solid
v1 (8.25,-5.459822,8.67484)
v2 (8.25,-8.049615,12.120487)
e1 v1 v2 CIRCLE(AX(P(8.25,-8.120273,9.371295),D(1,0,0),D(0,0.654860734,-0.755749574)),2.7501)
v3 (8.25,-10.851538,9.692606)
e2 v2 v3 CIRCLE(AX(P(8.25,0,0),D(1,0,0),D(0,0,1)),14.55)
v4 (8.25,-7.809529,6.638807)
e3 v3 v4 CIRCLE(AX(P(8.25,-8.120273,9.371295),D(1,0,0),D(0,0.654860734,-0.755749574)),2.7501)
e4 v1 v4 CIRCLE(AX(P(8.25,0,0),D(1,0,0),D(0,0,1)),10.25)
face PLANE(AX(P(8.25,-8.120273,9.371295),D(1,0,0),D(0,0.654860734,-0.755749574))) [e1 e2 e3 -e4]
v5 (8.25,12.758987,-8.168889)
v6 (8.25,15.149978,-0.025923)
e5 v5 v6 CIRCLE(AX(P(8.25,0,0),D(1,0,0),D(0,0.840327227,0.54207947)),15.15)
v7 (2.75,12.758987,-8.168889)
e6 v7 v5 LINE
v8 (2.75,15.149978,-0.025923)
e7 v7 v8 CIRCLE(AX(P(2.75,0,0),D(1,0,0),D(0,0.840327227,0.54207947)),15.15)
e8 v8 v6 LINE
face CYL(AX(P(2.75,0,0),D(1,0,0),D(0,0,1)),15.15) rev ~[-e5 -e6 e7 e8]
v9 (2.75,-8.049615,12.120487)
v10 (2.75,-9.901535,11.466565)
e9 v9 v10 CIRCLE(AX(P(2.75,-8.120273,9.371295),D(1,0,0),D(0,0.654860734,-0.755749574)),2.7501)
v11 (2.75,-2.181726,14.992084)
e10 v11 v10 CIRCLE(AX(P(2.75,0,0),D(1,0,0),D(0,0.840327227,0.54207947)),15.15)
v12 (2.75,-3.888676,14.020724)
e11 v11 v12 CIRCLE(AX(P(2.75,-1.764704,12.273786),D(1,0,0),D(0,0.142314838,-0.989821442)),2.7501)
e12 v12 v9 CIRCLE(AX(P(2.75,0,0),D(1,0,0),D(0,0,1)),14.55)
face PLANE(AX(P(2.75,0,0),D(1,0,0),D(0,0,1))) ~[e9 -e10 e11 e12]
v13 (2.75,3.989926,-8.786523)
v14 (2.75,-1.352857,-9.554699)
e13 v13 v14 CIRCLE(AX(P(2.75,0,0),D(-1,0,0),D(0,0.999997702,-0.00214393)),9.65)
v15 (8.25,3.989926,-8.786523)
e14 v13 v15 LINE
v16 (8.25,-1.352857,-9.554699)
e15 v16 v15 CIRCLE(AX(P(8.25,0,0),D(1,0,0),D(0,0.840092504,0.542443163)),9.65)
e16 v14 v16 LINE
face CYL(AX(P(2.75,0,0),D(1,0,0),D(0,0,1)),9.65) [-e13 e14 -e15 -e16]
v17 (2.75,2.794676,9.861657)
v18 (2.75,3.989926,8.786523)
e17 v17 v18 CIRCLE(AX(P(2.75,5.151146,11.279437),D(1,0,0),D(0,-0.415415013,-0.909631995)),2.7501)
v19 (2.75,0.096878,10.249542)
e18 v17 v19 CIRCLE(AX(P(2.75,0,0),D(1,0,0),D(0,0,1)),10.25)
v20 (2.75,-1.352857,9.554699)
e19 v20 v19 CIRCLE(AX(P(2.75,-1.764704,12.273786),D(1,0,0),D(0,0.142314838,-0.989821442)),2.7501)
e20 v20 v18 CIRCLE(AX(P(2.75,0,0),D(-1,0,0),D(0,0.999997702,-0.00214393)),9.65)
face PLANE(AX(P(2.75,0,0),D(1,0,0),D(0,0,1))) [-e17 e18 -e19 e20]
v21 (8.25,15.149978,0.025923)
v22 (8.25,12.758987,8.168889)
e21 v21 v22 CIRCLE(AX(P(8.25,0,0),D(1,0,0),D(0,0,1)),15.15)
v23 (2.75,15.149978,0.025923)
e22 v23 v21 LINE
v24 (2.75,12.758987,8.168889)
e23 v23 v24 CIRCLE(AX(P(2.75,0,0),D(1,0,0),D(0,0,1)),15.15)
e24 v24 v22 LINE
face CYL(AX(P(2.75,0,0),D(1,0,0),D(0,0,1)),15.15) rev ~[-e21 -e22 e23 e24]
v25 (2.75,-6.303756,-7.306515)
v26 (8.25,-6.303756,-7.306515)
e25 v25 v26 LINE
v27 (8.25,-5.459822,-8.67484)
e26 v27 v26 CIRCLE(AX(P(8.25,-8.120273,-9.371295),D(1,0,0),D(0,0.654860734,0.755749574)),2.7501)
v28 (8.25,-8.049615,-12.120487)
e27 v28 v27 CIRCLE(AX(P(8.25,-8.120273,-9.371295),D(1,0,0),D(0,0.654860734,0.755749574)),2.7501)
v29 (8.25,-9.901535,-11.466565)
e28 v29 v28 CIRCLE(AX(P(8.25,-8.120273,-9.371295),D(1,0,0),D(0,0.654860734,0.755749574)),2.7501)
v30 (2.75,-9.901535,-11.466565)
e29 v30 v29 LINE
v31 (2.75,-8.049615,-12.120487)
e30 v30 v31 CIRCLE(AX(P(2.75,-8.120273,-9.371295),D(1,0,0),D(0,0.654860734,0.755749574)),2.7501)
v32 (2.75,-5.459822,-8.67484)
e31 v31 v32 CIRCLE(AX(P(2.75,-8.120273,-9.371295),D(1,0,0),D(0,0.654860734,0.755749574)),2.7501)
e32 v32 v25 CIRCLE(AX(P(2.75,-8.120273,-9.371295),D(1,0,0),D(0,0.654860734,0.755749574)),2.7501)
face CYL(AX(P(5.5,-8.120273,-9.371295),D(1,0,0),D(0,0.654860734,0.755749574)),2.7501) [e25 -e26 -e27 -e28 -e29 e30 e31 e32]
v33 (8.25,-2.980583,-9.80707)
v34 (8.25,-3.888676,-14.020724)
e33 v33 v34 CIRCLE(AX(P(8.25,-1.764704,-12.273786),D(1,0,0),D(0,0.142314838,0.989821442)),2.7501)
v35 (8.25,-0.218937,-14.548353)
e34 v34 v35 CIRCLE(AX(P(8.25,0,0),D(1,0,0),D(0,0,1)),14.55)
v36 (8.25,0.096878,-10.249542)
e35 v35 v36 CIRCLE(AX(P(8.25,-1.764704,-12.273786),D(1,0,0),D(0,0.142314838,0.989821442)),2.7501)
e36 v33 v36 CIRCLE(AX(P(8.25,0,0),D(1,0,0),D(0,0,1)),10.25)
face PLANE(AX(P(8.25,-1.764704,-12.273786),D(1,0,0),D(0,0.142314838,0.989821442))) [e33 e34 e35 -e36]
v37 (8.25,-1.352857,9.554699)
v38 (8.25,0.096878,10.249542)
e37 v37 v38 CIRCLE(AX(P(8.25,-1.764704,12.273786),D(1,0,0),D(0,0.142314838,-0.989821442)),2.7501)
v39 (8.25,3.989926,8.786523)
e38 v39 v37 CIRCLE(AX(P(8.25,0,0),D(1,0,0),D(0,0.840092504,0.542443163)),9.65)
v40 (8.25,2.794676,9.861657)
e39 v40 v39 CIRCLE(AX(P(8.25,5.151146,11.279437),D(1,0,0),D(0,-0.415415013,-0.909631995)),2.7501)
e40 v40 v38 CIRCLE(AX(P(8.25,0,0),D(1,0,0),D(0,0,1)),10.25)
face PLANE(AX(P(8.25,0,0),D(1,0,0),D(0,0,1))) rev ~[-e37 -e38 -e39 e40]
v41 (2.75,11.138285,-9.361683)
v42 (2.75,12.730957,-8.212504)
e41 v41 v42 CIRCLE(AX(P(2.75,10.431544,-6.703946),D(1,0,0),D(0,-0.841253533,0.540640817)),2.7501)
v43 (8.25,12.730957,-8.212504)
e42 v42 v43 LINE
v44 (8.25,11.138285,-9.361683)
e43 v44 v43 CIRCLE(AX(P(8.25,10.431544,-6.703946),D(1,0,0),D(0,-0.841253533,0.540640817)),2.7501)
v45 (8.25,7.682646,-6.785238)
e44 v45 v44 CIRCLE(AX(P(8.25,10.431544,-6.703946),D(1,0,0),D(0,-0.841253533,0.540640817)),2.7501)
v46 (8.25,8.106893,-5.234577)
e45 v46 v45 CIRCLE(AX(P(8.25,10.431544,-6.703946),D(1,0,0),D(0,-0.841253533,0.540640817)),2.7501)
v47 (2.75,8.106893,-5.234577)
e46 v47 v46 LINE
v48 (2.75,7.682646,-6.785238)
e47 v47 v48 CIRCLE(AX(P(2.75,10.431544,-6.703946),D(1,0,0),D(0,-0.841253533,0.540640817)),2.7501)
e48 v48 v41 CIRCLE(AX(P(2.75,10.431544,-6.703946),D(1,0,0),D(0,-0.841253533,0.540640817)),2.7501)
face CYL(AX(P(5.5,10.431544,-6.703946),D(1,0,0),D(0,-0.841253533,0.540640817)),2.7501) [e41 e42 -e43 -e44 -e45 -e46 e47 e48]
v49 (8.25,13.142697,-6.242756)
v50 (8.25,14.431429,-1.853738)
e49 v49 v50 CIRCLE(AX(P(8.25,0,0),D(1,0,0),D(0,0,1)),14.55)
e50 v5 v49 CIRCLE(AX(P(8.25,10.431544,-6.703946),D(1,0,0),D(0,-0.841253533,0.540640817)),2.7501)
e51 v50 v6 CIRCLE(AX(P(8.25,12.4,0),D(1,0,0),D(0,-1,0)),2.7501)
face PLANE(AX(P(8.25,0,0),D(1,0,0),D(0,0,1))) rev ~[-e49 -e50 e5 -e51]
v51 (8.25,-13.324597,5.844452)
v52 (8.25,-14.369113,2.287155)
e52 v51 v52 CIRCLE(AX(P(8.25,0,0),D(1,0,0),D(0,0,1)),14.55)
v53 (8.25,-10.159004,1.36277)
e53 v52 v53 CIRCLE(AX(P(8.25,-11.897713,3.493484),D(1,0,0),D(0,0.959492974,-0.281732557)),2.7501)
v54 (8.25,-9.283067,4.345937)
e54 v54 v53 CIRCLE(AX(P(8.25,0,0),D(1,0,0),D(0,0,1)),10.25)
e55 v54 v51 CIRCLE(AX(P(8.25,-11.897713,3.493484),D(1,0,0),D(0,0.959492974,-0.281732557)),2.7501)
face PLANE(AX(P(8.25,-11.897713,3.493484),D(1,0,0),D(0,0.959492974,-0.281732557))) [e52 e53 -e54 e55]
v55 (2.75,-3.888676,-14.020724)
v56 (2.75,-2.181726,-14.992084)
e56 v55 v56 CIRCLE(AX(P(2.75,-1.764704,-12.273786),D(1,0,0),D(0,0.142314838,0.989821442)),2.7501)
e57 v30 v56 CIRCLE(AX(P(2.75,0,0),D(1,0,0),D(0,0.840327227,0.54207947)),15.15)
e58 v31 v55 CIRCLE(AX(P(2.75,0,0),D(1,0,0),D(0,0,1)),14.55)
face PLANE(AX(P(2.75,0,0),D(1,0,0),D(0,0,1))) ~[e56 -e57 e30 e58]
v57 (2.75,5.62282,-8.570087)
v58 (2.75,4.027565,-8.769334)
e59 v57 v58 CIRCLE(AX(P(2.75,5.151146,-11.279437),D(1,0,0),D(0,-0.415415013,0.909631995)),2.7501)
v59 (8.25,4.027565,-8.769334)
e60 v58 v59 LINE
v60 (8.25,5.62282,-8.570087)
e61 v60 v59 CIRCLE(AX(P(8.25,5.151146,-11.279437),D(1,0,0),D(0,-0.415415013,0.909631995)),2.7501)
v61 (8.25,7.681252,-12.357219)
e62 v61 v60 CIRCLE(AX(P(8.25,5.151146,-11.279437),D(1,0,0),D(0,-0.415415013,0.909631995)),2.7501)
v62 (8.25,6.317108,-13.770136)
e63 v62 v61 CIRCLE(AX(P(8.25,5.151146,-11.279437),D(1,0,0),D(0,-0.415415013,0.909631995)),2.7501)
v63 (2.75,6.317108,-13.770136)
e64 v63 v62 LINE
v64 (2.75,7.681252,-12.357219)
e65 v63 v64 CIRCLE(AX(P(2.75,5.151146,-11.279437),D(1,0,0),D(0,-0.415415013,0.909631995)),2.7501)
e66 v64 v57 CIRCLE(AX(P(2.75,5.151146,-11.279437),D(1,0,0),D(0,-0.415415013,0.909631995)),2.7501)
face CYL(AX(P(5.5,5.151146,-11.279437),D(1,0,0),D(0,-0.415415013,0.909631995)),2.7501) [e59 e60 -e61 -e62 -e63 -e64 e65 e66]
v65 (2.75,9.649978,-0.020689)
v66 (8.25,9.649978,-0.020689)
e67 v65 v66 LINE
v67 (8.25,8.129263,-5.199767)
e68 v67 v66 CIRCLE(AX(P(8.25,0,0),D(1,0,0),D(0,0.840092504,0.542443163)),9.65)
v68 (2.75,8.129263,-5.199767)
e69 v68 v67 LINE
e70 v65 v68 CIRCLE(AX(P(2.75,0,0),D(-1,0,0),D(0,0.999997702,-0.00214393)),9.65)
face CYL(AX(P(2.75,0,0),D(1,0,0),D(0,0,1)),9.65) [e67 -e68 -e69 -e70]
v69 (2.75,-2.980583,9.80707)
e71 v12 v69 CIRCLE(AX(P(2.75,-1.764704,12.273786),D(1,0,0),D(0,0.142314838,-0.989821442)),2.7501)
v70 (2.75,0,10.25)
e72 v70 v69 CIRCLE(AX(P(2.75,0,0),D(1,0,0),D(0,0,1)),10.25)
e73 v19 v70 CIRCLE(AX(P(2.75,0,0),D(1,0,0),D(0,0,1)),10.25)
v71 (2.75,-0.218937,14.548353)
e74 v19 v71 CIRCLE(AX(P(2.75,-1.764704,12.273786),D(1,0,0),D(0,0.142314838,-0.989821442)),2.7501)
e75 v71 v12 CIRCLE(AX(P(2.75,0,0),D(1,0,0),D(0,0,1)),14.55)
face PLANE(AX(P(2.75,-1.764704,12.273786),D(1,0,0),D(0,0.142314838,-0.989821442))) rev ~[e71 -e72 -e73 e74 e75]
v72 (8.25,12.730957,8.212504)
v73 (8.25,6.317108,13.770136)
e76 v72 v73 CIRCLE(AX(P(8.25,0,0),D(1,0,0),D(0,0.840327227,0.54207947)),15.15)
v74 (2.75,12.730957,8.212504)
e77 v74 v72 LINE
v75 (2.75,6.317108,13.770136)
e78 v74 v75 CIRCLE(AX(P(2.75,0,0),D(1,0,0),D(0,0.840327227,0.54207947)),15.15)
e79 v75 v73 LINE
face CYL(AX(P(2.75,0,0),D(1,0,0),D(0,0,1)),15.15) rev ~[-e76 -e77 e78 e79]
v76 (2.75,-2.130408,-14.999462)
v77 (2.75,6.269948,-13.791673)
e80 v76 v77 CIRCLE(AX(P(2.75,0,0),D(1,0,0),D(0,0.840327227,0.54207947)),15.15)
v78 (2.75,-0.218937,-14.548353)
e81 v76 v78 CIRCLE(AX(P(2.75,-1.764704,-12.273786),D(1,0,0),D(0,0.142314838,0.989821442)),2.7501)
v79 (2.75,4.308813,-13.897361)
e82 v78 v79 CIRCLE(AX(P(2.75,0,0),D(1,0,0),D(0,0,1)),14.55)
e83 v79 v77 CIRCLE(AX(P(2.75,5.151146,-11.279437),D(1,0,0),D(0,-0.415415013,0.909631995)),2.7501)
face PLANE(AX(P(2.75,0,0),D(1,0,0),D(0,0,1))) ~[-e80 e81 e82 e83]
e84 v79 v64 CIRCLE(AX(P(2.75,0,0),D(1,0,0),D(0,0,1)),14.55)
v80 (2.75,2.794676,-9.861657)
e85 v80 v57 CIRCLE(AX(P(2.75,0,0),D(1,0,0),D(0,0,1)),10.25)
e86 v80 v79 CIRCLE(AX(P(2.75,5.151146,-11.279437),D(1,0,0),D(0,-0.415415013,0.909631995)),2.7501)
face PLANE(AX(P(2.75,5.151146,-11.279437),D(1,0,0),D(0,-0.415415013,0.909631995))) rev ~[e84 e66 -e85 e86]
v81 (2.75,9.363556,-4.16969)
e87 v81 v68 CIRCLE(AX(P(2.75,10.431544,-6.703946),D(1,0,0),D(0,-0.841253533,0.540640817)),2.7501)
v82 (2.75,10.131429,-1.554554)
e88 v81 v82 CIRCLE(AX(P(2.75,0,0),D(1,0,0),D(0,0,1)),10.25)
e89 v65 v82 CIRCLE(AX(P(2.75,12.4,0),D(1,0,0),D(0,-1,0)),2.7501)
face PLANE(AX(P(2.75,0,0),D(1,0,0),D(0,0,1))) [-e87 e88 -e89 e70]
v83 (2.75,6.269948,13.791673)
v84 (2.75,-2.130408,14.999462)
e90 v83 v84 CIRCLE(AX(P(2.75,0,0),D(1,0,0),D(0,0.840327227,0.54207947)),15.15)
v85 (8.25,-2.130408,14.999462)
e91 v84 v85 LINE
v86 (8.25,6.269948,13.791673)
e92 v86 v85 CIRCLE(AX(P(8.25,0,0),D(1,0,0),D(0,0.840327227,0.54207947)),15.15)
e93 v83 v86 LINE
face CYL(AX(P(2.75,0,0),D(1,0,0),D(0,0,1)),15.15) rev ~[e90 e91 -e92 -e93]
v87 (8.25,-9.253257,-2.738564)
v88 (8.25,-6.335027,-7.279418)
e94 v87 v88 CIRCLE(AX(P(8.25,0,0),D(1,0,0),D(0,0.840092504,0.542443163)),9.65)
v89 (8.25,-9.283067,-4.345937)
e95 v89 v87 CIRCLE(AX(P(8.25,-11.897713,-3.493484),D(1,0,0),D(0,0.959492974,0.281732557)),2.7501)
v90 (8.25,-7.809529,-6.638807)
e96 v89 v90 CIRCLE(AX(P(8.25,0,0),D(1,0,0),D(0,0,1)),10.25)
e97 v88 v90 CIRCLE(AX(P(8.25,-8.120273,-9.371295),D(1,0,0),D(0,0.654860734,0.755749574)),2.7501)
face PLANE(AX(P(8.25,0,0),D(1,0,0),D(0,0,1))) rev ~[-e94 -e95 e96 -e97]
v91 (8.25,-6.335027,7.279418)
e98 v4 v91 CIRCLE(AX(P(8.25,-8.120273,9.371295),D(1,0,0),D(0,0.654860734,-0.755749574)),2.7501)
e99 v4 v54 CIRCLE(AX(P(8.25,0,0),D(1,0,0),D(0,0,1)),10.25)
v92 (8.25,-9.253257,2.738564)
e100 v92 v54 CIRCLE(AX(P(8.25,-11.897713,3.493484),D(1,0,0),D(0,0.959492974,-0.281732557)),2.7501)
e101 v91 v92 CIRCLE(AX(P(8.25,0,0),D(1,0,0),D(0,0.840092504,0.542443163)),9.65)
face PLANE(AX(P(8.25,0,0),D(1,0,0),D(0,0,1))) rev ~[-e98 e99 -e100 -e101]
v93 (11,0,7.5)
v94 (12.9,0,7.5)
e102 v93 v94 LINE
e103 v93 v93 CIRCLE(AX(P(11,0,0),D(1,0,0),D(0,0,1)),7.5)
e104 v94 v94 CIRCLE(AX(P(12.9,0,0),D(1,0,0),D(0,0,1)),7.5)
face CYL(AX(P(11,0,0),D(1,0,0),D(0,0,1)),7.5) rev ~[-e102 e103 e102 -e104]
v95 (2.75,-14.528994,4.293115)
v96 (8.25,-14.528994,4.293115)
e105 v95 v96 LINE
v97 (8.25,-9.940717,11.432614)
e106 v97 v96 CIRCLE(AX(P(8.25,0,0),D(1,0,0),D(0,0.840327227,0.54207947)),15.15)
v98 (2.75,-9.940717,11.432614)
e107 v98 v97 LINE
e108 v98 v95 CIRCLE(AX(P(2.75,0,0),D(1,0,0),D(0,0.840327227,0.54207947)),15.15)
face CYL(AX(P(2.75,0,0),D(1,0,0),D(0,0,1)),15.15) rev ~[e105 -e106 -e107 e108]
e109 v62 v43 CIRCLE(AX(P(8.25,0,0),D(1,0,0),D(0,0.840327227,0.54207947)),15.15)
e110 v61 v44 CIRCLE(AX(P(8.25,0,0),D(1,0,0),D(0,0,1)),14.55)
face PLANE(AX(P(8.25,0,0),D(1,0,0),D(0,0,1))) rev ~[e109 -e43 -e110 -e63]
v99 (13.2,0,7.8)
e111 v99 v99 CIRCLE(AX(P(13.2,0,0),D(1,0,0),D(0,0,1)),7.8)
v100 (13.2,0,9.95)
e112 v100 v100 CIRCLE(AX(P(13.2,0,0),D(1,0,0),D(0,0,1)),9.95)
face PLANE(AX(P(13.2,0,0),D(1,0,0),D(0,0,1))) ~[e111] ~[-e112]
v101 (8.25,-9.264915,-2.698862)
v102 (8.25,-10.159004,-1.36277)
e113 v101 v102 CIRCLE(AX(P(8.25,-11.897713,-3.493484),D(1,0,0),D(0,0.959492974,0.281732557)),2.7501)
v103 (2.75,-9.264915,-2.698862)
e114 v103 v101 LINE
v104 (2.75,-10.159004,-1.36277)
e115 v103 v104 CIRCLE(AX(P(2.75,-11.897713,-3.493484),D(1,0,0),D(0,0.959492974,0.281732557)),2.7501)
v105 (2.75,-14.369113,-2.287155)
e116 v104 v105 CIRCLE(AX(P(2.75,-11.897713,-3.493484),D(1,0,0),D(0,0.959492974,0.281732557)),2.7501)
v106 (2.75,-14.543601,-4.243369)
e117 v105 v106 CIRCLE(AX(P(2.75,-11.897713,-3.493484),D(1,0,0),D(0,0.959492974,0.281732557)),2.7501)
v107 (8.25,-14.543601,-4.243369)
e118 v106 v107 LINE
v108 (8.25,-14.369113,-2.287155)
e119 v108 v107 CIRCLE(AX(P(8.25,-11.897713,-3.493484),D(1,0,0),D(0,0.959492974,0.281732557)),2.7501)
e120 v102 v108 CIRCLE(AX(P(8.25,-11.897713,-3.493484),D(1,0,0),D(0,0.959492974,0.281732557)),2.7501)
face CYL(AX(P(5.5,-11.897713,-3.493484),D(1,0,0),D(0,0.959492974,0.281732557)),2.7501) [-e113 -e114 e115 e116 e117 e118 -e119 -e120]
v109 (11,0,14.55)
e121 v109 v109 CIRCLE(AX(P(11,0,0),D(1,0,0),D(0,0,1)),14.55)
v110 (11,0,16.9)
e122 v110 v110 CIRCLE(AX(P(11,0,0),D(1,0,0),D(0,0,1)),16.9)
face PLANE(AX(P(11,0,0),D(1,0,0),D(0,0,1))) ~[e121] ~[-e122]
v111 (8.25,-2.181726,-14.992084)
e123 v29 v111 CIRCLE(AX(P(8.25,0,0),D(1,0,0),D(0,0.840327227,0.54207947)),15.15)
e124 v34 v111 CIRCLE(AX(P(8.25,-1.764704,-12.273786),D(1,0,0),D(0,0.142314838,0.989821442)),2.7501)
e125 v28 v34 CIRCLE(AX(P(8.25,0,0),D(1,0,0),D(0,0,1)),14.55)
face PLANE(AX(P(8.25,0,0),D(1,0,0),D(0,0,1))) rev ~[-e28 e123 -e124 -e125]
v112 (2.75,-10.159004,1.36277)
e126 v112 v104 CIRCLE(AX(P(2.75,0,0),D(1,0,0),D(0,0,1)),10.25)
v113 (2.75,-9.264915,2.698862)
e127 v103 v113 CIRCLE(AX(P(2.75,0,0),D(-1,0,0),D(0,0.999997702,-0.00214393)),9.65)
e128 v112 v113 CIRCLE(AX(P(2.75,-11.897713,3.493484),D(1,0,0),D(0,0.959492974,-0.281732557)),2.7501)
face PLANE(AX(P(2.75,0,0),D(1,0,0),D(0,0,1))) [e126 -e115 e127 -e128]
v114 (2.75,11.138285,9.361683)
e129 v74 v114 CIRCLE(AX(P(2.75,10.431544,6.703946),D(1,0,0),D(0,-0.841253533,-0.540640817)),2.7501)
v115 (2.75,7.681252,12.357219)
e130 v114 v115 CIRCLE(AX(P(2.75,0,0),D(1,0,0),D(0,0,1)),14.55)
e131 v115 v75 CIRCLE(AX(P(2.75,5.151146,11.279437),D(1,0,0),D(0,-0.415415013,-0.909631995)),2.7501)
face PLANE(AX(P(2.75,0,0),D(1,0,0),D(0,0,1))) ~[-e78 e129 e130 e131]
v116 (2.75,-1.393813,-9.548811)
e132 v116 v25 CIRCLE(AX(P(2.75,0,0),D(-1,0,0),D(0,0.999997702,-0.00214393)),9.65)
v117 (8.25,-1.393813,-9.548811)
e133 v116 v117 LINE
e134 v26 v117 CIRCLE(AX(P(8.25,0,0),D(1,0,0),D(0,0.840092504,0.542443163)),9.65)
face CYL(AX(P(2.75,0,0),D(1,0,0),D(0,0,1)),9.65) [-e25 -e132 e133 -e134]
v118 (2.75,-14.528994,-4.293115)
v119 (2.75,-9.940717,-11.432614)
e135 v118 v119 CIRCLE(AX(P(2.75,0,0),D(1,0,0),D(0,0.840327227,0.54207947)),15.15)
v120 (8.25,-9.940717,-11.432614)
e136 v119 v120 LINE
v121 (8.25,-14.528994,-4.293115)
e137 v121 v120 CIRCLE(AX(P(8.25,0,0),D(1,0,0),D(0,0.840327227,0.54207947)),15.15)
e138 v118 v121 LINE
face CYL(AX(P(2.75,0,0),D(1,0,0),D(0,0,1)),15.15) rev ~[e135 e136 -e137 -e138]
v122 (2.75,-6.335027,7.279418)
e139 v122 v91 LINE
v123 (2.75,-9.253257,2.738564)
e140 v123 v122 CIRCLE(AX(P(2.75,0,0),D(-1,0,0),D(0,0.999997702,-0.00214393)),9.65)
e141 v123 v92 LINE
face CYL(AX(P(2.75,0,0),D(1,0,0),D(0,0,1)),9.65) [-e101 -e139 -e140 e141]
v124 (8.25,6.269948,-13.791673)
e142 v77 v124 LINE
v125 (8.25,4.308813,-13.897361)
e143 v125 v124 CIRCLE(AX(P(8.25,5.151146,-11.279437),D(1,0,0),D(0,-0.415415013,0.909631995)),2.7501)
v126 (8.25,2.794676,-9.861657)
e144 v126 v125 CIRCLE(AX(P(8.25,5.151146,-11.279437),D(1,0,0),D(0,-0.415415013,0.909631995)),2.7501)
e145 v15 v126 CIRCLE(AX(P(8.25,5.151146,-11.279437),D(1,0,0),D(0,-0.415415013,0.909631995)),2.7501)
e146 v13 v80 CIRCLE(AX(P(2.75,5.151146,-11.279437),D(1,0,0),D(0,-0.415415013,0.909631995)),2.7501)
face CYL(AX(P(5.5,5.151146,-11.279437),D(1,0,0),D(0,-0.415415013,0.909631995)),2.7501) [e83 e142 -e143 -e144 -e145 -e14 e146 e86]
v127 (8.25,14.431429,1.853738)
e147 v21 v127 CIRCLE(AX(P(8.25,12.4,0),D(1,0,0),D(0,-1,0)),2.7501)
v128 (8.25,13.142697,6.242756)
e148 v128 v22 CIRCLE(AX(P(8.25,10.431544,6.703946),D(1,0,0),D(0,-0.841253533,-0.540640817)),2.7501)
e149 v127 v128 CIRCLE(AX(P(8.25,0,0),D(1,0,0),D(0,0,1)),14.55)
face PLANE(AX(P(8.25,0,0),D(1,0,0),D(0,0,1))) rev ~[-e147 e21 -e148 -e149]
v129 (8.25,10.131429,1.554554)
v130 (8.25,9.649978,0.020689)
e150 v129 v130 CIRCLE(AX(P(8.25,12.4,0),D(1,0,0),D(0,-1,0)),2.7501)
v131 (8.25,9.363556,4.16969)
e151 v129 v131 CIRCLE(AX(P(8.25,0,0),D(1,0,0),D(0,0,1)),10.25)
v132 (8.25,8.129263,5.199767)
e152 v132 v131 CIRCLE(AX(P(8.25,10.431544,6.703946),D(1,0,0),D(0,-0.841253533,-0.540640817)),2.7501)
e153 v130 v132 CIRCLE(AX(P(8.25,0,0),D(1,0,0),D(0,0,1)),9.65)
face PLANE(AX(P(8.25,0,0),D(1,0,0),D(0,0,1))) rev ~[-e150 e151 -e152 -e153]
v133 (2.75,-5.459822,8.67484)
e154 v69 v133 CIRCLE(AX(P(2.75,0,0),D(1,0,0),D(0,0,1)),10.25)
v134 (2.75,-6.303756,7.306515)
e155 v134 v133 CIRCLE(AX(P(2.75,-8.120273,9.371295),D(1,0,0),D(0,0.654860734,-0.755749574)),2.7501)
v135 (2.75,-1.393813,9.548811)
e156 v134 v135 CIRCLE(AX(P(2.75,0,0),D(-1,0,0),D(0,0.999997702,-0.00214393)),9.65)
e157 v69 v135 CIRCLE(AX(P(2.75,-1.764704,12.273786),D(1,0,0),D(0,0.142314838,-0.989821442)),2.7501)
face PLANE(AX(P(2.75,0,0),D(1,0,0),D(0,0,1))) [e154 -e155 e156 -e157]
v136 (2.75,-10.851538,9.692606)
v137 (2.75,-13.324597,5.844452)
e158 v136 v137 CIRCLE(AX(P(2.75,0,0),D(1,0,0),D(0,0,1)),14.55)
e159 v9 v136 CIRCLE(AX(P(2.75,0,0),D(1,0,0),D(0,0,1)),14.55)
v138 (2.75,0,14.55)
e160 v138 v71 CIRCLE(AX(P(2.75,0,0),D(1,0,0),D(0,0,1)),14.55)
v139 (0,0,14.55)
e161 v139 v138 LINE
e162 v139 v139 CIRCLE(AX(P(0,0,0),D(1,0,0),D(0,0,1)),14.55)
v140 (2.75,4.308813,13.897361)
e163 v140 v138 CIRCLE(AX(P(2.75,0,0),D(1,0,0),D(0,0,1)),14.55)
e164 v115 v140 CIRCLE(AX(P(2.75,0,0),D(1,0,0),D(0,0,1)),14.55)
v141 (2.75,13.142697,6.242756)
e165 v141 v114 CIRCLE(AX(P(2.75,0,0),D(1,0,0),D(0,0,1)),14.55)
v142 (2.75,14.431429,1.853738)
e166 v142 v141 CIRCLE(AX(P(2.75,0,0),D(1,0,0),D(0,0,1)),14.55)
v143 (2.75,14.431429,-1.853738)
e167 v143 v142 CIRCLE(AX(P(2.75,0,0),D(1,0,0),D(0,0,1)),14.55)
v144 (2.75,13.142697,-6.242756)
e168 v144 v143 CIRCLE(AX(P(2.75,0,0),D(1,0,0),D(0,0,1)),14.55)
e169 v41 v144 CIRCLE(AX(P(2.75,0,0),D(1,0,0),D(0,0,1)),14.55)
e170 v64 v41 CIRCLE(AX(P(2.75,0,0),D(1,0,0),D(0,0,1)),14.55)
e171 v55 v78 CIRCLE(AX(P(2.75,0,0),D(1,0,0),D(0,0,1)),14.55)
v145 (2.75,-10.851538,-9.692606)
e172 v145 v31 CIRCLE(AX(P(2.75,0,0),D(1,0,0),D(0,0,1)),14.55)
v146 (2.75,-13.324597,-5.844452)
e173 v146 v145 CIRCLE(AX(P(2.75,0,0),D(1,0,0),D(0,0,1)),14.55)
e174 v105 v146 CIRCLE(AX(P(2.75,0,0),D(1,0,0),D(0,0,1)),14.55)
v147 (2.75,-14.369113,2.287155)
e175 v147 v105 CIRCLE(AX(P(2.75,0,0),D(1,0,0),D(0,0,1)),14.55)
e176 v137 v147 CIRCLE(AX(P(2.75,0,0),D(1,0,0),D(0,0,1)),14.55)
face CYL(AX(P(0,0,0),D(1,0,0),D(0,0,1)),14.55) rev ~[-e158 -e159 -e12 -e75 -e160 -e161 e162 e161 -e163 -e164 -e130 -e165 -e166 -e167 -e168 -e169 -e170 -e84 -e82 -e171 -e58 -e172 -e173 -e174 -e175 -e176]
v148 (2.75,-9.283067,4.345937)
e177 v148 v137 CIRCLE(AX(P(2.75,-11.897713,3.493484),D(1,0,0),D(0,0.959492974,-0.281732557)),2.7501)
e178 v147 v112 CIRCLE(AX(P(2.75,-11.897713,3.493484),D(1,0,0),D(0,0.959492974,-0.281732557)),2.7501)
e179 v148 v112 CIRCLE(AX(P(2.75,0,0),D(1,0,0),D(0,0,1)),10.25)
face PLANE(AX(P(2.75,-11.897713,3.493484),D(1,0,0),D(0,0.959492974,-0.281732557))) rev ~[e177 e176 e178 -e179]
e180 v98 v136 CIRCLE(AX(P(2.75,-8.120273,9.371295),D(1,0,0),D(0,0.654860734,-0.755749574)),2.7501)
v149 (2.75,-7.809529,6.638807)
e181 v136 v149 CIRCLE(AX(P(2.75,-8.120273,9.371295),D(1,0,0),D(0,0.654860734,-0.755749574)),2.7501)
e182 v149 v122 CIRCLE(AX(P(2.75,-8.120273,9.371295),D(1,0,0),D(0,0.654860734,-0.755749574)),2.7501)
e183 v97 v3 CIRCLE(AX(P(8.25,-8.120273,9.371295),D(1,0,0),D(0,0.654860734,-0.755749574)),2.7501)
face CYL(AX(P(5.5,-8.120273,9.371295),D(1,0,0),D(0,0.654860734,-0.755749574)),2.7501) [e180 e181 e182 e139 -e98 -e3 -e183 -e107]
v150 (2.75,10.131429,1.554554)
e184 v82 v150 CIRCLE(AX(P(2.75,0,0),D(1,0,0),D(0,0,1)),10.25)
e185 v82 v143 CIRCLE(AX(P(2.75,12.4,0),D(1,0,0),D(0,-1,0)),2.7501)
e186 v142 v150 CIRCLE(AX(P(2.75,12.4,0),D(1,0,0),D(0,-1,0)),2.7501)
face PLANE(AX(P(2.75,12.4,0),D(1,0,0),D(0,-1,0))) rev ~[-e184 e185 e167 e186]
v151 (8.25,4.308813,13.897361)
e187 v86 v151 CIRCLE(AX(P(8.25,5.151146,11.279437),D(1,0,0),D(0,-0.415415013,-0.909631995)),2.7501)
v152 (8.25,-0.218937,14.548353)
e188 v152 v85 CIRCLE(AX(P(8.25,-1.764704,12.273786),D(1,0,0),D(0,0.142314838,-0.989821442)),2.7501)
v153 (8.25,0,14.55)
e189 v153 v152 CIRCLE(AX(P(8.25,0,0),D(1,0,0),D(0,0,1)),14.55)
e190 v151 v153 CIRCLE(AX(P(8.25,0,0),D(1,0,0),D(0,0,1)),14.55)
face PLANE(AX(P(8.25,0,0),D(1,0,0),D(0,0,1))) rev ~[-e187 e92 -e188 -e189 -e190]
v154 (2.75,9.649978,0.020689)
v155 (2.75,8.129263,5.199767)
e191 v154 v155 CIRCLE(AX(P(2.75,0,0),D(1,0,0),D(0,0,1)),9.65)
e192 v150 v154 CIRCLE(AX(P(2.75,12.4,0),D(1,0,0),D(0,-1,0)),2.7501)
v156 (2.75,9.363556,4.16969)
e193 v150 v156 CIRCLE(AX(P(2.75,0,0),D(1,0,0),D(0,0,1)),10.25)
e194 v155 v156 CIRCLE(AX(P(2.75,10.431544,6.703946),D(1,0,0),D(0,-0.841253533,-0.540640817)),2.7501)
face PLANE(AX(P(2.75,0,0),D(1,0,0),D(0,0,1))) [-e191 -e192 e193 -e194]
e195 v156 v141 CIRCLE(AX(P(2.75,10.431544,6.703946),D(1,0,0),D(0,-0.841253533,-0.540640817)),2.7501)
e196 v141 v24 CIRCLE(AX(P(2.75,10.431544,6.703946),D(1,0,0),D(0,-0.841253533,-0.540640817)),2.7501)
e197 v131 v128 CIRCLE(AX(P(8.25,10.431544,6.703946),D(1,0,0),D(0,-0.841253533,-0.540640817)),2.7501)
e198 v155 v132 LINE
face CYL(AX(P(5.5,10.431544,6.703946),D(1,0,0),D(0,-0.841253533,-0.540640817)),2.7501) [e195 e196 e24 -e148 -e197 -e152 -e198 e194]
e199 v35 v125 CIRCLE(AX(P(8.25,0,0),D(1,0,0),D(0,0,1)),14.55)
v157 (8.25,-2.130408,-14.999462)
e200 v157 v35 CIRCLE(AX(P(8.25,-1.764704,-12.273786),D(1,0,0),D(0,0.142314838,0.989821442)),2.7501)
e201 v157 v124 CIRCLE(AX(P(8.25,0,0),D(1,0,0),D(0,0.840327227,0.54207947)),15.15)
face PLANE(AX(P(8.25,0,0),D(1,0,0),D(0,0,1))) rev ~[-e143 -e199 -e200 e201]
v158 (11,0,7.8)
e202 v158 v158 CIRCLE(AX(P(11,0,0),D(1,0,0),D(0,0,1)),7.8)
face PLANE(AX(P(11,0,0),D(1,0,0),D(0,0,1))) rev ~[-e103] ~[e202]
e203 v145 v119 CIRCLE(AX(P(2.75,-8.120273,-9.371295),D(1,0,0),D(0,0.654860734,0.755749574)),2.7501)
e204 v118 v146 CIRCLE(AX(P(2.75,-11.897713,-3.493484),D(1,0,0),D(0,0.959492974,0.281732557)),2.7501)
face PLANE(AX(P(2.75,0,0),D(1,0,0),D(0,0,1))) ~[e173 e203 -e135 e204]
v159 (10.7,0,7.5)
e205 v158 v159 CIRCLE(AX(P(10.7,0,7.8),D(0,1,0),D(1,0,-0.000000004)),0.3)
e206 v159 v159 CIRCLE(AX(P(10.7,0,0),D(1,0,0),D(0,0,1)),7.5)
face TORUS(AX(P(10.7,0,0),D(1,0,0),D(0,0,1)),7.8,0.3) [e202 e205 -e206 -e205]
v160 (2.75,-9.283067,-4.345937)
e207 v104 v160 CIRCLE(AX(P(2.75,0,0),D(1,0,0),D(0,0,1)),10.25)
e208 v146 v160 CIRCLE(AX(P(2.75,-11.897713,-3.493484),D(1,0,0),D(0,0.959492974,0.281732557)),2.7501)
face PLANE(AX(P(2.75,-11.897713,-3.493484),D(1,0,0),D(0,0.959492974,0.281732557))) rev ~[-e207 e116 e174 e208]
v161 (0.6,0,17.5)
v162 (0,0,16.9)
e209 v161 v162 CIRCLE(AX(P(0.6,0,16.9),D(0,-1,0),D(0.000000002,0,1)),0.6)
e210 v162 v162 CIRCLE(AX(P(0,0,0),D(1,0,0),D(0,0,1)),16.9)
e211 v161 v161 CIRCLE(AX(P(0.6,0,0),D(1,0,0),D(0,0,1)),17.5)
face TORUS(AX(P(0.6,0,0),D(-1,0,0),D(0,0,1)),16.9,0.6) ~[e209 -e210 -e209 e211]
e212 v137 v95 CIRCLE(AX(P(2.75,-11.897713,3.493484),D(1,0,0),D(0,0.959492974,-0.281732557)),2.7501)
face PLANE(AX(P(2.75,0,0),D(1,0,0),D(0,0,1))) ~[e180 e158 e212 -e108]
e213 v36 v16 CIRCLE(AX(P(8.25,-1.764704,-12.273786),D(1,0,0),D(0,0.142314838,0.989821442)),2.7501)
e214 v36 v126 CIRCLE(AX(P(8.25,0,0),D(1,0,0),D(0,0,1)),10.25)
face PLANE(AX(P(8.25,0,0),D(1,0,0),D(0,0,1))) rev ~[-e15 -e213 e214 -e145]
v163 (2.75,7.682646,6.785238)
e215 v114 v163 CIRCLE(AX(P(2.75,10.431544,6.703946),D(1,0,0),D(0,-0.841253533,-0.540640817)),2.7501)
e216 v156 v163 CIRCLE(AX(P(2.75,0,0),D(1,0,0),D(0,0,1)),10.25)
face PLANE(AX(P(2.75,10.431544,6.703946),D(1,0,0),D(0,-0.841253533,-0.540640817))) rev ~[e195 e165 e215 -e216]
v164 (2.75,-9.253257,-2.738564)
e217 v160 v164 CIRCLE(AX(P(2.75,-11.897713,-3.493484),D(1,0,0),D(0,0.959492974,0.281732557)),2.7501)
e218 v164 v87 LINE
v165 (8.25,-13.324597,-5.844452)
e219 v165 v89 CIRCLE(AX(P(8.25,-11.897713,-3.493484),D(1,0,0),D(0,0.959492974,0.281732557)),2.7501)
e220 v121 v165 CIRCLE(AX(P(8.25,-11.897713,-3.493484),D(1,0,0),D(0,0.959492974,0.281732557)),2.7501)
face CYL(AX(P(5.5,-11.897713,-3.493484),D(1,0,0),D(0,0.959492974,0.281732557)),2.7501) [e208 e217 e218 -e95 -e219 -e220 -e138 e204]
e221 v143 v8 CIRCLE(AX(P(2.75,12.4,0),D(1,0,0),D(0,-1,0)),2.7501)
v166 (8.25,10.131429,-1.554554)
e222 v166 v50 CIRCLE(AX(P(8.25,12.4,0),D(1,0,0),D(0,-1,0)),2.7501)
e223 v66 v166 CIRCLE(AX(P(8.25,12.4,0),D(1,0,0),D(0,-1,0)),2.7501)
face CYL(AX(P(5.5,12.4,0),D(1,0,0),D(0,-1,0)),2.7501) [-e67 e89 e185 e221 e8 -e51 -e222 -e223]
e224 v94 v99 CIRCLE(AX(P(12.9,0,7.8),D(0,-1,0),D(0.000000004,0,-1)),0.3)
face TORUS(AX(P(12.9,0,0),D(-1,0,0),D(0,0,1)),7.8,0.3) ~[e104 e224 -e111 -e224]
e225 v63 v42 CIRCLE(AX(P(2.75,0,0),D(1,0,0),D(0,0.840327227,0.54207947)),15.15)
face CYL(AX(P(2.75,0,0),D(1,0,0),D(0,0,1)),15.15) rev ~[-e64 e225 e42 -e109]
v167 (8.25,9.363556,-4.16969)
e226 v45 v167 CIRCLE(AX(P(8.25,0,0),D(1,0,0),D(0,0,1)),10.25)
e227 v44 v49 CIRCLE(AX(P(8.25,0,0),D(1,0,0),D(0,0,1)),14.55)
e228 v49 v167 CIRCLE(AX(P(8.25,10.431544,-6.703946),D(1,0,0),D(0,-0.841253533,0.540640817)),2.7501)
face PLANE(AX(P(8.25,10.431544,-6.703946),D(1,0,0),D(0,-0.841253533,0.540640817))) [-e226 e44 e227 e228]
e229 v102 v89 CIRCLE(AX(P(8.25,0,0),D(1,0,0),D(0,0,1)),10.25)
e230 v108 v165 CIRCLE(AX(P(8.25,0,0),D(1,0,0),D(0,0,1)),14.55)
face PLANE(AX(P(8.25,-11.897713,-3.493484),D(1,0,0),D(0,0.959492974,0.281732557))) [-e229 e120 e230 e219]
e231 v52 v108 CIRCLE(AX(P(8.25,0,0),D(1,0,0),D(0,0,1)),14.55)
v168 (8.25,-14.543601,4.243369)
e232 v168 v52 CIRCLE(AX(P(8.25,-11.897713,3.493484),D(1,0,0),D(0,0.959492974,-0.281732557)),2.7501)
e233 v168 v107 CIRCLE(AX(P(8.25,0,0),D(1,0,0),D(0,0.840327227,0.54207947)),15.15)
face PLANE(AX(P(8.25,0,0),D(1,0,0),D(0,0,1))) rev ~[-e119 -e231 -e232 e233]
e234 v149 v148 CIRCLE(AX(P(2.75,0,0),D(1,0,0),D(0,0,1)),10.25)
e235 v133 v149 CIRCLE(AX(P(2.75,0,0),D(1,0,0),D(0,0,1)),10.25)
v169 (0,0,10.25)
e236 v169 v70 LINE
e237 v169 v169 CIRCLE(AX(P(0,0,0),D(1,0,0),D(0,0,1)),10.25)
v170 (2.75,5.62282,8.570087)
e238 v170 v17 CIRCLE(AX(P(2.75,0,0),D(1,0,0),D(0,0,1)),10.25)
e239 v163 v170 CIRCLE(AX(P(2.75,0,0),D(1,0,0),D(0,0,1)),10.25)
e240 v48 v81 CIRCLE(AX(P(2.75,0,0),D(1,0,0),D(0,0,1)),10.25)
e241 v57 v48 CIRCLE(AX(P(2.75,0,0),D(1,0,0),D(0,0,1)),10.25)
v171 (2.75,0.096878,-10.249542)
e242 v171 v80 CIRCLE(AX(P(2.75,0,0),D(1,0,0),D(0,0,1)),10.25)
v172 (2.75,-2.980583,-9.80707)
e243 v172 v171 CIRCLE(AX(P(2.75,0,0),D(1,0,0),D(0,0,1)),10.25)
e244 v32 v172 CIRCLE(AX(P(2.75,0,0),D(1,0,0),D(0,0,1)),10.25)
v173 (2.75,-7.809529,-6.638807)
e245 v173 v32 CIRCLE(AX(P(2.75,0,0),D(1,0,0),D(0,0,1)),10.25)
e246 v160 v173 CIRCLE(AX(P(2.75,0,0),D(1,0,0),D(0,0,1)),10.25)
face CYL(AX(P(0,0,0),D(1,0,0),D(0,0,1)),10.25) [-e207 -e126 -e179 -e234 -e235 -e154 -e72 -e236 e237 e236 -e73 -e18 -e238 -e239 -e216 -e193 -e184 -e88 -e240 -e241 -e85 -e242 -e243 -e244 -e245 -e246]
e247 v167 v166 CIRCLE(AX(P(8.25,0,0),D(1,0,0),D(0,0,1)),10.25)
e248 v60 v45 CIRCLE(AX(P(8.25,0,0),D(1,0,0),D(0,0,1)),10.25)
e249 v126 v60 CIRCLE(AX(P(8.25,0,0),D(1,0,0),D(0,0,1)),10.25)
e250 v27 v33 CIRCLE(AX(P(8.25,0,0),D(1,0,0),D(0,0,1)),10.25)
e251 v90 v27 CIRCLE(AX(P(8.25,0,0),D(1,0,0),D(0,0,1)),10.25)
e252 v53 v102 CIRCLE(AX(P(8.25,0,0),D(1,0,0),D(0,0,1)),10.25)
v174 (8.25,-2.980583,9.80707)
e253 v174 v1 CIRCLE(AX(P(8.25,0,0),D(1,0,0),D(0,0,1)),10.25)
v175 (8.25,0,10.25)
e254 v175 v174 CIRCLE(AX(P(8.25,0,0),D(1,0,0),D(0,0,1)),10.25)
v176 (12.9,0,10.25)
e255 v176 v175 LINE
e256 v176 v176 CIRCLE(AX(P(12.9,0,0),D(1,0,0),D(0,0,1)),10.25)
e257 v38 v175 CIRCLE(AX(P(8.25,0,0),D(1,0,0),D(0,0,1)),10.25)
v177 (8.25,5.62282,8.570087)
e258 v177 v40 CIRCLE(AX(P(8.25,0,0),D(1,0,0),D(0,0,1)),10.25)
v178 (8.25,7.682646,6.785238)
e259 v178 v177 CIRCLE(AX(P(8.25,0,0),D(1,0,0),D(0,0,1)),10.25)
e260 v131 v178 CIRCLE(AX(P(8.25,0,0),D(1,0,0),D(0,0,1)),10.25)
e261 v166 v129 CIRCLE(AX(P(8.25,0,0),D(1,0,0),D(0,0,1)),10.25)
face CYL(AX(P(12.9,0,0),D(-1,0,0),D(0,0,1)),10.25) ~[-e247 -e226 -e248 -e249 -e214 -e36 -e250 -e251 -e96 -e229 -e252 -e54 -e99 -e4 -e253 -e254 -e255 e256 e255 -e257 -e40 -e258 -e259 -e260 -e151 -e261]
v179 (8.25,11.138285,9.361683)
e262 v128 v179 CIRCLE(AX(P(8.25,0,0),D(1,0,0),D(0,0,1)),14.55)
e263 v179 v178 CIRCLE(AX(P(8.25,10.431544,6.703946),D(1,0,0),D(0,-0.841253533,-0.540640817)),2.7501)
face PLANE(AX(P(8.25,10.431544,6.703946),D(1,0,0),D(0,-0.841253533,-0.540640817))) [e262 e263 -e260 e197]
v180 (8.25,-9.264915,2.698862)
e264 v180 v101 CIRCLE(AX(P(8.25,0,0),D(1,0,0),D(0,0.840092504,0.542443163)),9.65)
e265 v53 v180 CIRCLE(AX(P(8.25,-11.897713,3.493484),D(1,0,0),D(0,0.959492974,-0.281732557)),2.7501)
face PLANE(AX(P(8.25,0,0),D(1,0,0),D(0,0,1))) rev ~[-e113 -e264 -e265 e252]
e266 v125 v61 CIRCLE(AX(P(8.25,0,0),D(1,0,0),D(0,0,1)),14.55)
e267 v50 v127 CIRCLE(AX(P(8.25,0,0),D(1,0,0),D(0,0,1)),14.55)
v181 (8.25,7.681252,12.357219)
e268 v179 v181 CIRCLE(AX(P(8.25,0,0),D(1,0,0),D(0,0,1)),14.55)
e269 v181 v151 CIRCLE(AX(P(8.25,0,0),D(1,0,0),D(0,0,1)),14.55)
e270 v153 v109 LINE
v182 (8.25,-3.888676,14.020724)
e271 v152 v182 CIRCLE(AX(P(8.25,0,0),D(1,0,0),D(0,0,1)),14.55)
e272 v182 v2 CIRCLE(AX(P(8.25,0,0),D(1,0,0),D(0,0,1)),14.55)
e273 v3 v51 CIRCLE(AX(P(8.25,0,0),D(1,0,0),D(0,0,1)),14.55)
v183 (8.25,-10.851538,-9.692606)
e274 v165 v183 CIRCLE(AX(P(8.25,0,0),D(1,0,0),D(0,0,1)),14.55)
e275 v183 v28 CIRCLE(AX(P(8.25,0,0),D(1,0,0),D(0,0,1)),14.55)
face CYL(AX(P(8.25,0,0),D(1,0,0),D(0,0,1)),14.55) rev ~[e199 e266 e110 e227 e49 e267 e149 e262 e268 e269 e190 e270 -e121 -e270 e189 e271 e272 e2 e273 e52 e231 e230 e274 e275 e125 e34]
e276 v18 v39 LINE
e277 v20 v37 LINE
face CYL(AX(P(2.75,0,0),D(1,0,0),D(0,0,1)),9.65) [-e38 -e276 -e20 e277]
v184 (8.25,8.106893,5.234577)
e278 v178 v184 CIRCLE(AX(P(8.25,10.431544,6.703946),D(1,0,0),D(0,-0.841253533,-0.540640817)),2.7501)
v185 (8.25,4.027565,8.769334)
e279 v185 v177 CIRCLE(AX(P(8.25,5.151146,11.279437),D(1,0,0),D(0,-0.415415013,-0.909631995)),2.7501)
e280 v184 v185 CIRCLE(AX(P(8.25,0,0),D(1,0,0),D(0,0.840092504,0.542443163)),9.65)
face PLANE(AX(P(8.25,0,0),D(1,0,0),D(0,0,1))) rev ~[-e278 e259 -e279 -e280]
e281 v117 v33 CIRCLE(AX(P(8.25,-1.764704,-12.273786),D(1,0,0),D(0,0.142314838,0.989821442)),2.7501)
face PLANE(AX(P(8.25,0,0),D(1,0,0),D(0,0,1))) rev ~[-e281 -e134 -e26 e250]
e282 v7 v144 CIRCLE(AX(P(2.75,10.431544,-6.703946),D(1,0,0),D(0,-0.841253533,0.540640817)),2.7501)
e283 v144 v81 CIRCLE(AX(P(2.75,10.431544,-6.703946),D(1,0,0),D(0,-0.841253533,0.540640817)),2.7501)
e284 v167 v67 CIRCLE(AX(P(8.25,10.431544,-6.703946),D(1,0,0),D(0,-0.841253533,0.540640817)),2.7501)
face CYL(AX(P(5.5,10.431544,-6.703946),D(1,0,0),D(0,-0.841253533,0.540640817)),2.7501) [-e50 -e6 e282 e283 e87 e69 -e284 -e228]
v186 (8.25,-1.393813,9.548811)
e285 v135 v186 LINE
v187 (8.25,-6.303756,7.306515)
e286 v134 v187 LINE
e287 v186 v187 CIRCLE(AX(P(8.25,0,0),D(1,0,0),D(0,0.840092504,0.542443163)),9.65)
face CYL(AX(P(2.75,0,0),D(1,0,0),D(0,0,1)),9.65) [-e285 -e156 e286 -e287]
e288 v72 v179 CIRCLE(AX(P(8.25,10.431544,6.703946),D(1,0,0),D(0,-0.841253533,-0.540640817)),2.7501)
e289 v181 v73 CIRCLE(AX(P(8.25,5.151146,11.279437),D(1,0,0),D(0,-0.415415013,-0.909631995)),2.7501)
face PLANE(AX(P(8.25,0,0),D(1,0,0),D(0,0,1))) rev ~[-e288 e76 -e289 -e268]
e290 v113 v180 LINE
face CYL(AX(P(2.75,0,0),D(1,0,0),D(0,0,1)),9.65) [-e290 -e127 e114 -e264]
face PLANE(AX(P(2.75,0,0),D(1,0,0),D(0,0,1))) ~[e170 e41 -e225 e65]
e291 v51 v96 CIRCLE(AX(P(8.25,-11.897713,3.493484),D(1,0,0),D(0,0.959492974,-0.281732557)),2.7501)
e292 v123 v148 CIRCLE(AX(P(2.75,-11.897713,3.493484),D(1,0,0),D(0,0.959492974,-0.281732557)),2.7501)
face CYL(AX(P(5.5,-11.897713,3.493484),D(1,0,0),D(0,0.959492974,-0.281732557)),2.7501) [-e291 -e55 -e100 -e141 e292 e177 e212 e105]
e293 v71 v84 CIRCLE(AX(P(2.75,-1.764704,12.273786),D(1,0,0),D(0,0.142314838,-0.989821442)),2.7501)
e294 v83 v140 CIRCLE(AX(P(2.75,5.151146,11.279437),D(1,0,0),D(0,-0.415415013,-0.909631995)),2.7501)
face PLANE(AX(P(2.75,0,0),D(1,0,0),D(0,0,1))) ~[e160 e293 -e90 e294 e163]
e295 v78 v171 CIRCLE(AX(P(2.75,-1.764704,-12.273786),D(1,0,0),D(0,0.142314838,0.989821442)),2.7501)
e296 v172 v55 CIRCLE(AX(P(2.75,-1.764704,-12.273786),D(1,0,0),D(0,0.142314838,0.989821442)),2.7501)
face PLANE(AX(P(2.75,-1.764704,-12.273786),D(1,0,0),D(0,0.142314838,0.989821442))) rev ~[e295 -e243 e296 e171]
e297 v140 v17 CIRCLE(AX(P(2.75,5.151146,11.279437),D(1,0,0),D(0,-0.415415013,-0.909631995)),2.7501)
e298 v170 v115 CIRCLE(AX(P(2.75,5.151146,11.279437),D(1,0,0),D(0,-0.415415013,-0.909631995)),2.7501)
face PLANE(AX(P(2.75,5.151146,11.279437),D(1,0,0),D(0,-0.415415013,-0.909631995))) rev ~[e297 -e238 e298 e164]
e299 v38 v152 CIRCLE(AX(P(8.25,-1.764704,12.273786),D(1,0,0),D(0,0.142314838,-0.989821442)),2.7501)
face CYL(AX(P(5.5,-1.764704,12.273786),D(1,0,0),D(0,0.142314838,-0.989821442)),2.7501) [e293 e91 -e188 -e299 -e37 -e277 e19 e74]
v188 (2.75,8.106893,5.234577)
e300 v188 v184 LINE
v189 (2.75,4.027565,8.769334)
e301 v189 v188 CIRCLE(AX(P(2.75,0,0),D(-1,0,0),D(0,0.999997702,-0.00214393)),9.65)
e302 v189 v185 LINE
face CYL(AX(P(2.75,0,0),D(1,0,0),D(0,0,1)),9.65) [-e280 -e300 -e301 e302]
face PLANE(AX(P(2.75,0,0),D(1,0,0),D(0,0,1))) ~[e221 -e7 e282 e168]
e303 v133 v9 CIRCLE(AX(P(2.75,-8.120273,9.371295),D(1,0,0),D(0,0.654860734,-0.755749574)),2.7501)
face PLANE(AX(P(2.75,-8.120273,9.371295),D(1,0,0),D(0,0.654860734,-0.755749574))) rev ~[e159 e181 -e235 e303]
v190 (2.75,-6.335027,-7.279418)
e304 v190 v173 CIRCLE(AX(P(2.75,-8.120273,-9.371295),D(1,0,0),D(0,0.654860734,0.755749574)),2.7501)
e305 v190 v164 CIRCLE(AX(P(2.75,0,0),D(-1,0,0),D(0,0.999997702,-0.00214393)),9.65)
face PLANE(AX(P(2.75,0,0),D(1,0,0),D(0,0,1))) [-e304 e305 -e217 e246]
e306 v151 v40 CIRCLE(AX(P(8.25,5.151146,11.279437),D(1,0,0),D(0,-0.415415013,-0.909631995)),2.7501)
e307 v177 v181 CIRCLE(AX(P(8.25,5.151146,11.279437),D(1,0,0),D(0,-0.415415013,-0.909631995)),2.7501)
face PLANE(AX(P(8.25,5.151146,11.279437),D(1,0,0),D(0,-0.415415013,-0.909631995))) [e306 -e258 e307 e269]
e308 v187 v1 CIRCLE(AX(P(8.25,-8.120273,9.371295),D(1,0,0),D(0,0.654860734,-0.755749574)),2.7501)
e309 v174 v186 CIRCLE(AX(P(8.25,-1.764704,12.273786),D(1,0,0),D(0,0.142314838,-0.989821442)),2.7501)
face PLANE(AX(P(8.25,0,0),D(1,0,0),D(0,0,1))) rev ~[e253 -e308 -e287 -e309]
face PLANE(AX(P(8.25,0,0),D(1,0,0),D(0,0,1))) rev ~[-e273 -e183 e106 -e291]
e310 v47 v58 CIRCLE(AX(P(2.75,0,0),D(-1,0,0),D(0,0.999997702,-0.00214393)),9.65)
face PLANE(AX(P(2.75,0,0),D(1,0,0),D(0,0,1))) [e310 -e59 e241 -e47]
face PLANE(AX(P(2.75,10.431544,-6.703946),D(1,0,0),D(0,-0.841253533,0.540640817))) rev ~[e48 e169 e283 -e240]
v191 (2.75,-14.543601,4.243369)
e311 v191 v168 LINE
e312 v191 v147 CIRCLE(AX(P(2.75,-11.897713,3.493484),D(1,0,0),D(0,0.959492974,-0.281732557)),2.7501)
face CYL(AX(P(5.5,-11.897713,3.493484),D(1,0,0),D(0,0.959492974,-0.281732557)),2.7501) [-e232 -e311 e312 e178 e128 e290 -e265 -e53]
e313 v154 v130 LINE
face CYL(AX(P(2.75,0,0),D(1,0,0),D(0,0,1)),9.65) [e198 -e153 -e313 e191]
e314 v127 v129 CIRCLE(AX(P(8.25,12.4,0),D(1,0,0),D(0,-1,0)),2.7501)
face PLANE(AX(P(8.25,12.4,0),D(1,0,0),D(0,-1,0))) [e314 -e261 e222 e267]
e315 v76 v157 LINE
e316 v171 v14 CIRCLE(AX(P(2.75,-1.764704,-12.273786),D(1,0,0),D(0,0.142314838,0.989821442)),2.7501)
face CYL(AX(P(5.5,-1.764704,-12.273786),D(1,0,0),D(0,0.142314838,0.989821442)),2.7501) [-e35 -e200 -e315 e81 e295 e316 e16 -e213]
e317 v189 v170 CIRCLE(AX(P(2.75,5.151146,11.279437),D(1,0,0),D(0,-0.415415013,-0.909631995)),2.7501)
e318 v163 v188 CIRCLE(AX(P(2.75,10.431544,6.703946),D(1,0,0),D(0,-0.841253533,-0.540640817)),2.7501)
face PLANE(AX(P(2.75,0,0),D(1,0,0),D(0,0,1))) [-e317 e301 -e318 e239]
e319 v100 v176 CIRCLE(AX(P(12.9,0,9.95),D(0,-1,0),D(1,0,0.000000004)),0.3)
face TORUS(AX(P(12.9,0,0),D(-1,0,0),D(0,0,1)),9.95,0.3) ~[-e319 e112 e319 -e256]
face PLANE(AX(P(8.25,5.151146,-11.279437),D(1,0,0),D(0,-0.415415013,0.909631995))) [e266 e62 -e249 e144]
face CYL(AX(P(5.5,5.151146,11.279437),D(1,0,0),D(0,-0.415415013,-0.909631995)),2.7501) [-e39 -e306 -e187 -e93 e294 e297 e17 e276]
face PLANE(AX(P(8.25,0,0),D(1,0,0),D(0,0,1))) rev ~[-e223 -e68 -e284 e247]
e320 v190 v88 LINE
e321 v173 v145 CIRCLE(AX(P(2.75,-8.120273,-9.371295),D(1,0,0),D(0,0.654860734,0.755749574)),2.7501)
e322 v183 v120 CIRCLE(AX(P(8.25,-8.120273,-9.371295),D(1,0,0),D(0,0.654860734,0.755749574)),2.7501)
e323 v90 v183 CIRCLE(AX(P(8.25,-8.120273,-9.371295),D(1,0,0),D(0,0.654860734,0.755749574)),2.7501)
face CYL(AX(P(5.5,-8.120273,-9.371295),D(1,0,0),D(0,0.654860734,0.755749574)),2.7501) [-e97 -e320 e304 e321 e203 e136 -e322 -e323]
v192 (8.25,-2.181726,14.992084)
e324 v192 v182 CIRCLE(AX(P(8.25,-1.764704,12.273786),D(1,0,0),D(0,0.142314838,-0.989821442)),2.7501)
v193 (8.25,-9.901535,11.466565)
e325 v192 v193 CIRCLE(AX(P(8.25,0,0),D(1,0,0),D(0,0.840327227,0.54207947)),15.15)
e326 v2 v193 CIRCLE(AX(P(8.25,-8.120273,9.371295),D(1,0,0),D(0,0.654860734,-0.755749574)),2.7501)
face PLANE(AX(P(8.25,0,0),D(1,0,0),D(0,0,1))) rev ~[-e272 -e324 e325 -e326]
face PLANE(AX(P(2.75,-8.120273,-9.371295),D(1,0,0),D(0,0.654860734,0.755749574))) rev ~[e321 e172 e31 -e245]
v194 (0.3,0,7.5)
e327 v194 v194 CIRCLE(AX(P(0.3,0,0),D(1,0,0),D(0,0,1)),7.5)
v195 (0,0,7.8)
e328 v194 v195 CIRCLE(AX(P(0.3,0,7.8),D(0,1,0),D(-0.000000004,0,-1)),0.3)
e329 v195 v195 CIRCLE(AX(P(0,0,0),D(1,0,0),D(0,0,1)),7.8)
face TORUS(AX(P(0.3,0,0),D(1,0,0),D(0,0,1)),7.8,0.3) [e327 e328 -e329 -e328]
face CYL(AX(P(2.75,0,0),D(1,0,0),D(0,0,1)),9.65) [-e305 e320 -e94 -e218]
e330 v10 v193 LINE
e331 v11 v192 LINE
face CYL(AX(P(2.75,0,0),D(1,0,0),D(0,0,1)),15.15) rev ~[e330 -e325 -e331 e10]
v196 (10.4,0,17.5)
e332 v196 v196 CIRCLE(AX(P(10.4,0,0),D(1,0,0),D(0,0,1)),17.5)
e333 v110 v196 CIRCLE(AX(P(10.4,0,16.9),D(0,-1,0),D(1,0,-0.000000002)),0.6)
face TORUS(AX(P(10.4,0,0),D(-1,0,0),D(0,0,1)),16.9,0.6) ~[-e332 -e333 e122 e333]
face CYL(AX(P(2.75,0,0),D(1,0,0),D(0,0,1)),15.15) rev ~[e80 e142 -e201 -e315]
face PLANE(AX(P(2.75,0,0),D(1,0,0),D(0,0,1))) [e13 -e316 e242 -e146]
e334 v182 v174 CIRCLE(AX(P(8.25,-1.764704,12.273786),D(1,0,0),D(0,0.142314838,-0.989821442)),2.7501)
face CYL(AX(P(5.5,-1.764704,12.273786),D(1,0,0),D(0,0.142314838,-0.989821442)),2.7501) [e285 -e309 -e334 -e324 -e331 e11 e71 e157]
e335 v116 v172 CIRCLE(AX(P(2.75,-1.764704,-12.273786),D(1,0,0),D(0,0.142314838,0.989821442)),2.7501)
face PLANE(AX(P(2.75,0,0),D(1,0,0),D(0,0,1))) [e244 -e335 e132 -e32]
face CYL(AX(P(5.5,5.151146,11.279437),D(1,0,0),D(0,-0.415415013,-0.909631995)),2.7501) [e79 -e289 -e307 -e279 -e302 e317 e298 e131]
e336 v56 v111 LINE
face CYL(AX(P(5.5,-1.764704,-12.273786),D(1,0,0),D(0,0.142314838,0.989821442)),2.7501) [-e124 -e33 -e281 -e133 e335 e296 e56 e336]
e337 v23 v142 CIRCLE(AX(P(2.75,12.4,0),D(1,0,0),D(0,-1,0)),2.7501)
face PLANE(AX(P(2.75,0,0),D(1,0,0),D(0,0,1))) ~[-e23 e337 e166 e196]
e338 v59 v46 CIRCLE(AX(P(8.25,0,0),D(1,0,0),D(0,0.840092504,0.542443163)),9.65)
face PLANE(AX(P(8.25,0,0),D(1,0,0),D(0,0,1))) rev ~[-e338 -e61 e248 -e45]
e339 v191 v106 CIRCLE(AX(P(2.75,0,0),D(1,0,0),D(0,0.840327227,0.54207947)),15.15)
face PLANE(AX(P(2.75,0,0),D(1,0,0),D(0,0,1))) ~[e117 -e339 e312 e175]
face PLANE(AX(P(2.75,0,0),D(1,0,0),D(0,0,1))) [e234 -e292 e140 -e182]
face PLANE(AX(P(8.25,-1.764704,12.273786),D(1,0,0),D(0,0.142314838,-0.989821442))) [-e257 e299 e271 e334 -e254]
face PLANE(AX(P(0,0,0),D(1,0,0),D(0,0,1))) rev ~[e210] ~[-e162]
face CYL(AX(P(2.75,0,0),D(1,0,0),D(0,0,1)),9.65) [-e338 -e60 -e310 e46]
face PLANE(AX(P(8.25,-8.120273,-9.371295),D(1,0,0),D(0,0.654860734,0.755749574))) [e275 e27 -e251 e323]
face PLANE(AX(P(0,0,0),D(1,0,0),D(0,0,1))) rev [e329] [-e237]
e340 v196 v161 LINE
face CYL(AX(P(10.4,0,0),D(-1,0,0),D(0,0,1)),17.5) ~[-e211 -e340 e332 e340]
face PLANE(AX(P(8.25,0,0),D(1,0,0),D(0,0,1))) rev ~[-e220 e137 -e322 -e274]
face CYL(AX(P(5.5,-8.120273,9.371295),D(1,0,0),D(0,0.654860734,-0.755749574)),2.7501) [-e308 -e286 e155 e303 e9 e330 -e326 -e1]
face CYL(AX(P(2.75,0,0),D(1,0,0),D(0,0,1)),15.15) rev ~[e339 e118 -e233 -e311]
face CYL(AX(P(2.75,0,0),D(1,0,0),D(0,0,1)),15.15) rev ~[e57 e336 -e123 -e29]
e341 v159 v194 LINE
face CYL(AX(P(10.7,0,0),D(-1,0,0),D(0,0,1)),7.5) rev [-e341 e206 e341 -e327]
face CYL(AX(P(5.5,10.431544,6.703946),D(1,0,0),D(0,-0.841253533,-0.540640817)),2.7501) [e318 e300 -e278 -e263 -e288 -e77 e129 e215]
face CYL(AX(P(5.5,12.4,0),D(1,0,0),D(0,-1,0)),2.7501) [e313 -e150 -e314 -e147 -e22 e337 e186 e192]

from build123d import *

# Parameters (mm, degrees)
SKETCH_3_W               = 5.5
SKETCH_3_H               = 2.7501
PATTERN_CIRCULAR_1_COUNT = 11


with BuildPart() as part:
    # 草图2 → Revolve 794 (revolve)
    with BuildSketch(Plane.XY, mode=Mode.PRIVATE) as revolve_794_sk:
        with BuildLine():
            Line((2.75, 9.65), (8.25, 9.65))
            Line((8.25, 9.65), (11, 8.913139721))
            Line((11, 8.913139721), (11, 7.8))
            ThreePointArc((11, 7.8), (10.912132034, 7.587867966), (10.7, 7.5))
            Line((10.7, 7.5), (0.3, 7.5))
            ThreePointArc((0.3, 7.5), (0.087867966, 7.587867966), (0, 7.8))
            Line((0, 7.8), (0, 10.25))
            Line((0, 10.25), (2.75, 10.25))
            Line((2.75, 10.25), (2.75, 9.65))
        make_face()
    revolve(revolve_794_sk.sketch.rotate(Axis((-10.080094127, 0, 0), (1, 0, 0)), 90), axis=Axis((-10.080094127, 0, 0), (1, 0, 0)))

    # 草图3 → 凸台-旋转1 (revolve)
    with BuildSketch(Plane.XY):
        with Locations((5.5, 11.02495)):
            Rectangle(SKETCH_3_W, SKETCH_3_H)
    revolve_1 = revolve(axis=Axis((-1.603948851, 12.4, 0), (1, 0, 0)))

    # 草图4 → 凸台-旋转2 (revolve)
    with BuildSketch(Plane.XY, mode=Mode.PRIVATE) as revolve_2_sk:
        with BuildLine():
            Line((8.25, 14.55), (11, 14.55))
            Line((11, 14.55), (11, 16.9))
            ThreePointArc((11, 16.9), (10.824264069, 17.324264069), (10.4, 17.5))
            Line((10.4, 17.5), (0.6, 17.5))
            ThreePointArc((0.6, 17.5), (0.175735931, 17.324264069), (0, 16.9))
            Line((0, 16.9), (0, 14.55))
            Line((0, 14.55), (2.75, 14.55))
            Line((2.75, 14.55), (2.75, 15.15))
            Line((2.75, 15.15), (8.25, 15.15))
            Line((8.25, 15.15), (8.25, 14.55))
        make_face()
    revolve(revolve_2_sk.sketch.rotate(Axis((0, 0, 0), (1, 0, 0)), 90), axis=Axis((0, 0, 0), (1, 0, 0)))

    # 草图5 → 凸台-旋转3 (revolve)
    with BuildSketch(Plane.XY, mode=Mode.PRIVATE) as revolve_3_sk:
        with BuildLine():
            Line((11, 8.913117543), (11, 7.5))
            Line((11, 7.5), (12.9, 7.5))
            ThreePointArc((12.9, 7.5), (13.112132034, 7.587867966), (13.2, 7.8))
            Line((13.2, 7.8), (13.2, 9.95))
            ThreePointArc((13.2, 9.95), (13.112132034, 10.162132034), (12.9, 10.25))
            Line((12.9, 10.25), (8.25, 10.25))
            Line((8.25, 10.25), (8.25, 9.649977822))
            Line((8.25, 9.649977822), (11, 8.913117543))
        make_face()
    revolve(revolve_3_sk.sketch.rotate(Axis((0, 0, 0), (1, 0, 0)), 90), axis=Axis((0, 0, 0), (1, 0, 0)))

    # 阵列(圆周)1: 凸台-旋转1 ×11 about axis
    pattern_circular_1_axis = Axis((0, 0, 0), (1, 0, 0))
    for i in range(1, PATTERN_CIRCULAR_1_COUNT):
        add(revolve_1.rotate(pattern_circular_1_axis, i * 360 / PATTERN_CIRCULAR_1_COUNT))


solid = part.part
